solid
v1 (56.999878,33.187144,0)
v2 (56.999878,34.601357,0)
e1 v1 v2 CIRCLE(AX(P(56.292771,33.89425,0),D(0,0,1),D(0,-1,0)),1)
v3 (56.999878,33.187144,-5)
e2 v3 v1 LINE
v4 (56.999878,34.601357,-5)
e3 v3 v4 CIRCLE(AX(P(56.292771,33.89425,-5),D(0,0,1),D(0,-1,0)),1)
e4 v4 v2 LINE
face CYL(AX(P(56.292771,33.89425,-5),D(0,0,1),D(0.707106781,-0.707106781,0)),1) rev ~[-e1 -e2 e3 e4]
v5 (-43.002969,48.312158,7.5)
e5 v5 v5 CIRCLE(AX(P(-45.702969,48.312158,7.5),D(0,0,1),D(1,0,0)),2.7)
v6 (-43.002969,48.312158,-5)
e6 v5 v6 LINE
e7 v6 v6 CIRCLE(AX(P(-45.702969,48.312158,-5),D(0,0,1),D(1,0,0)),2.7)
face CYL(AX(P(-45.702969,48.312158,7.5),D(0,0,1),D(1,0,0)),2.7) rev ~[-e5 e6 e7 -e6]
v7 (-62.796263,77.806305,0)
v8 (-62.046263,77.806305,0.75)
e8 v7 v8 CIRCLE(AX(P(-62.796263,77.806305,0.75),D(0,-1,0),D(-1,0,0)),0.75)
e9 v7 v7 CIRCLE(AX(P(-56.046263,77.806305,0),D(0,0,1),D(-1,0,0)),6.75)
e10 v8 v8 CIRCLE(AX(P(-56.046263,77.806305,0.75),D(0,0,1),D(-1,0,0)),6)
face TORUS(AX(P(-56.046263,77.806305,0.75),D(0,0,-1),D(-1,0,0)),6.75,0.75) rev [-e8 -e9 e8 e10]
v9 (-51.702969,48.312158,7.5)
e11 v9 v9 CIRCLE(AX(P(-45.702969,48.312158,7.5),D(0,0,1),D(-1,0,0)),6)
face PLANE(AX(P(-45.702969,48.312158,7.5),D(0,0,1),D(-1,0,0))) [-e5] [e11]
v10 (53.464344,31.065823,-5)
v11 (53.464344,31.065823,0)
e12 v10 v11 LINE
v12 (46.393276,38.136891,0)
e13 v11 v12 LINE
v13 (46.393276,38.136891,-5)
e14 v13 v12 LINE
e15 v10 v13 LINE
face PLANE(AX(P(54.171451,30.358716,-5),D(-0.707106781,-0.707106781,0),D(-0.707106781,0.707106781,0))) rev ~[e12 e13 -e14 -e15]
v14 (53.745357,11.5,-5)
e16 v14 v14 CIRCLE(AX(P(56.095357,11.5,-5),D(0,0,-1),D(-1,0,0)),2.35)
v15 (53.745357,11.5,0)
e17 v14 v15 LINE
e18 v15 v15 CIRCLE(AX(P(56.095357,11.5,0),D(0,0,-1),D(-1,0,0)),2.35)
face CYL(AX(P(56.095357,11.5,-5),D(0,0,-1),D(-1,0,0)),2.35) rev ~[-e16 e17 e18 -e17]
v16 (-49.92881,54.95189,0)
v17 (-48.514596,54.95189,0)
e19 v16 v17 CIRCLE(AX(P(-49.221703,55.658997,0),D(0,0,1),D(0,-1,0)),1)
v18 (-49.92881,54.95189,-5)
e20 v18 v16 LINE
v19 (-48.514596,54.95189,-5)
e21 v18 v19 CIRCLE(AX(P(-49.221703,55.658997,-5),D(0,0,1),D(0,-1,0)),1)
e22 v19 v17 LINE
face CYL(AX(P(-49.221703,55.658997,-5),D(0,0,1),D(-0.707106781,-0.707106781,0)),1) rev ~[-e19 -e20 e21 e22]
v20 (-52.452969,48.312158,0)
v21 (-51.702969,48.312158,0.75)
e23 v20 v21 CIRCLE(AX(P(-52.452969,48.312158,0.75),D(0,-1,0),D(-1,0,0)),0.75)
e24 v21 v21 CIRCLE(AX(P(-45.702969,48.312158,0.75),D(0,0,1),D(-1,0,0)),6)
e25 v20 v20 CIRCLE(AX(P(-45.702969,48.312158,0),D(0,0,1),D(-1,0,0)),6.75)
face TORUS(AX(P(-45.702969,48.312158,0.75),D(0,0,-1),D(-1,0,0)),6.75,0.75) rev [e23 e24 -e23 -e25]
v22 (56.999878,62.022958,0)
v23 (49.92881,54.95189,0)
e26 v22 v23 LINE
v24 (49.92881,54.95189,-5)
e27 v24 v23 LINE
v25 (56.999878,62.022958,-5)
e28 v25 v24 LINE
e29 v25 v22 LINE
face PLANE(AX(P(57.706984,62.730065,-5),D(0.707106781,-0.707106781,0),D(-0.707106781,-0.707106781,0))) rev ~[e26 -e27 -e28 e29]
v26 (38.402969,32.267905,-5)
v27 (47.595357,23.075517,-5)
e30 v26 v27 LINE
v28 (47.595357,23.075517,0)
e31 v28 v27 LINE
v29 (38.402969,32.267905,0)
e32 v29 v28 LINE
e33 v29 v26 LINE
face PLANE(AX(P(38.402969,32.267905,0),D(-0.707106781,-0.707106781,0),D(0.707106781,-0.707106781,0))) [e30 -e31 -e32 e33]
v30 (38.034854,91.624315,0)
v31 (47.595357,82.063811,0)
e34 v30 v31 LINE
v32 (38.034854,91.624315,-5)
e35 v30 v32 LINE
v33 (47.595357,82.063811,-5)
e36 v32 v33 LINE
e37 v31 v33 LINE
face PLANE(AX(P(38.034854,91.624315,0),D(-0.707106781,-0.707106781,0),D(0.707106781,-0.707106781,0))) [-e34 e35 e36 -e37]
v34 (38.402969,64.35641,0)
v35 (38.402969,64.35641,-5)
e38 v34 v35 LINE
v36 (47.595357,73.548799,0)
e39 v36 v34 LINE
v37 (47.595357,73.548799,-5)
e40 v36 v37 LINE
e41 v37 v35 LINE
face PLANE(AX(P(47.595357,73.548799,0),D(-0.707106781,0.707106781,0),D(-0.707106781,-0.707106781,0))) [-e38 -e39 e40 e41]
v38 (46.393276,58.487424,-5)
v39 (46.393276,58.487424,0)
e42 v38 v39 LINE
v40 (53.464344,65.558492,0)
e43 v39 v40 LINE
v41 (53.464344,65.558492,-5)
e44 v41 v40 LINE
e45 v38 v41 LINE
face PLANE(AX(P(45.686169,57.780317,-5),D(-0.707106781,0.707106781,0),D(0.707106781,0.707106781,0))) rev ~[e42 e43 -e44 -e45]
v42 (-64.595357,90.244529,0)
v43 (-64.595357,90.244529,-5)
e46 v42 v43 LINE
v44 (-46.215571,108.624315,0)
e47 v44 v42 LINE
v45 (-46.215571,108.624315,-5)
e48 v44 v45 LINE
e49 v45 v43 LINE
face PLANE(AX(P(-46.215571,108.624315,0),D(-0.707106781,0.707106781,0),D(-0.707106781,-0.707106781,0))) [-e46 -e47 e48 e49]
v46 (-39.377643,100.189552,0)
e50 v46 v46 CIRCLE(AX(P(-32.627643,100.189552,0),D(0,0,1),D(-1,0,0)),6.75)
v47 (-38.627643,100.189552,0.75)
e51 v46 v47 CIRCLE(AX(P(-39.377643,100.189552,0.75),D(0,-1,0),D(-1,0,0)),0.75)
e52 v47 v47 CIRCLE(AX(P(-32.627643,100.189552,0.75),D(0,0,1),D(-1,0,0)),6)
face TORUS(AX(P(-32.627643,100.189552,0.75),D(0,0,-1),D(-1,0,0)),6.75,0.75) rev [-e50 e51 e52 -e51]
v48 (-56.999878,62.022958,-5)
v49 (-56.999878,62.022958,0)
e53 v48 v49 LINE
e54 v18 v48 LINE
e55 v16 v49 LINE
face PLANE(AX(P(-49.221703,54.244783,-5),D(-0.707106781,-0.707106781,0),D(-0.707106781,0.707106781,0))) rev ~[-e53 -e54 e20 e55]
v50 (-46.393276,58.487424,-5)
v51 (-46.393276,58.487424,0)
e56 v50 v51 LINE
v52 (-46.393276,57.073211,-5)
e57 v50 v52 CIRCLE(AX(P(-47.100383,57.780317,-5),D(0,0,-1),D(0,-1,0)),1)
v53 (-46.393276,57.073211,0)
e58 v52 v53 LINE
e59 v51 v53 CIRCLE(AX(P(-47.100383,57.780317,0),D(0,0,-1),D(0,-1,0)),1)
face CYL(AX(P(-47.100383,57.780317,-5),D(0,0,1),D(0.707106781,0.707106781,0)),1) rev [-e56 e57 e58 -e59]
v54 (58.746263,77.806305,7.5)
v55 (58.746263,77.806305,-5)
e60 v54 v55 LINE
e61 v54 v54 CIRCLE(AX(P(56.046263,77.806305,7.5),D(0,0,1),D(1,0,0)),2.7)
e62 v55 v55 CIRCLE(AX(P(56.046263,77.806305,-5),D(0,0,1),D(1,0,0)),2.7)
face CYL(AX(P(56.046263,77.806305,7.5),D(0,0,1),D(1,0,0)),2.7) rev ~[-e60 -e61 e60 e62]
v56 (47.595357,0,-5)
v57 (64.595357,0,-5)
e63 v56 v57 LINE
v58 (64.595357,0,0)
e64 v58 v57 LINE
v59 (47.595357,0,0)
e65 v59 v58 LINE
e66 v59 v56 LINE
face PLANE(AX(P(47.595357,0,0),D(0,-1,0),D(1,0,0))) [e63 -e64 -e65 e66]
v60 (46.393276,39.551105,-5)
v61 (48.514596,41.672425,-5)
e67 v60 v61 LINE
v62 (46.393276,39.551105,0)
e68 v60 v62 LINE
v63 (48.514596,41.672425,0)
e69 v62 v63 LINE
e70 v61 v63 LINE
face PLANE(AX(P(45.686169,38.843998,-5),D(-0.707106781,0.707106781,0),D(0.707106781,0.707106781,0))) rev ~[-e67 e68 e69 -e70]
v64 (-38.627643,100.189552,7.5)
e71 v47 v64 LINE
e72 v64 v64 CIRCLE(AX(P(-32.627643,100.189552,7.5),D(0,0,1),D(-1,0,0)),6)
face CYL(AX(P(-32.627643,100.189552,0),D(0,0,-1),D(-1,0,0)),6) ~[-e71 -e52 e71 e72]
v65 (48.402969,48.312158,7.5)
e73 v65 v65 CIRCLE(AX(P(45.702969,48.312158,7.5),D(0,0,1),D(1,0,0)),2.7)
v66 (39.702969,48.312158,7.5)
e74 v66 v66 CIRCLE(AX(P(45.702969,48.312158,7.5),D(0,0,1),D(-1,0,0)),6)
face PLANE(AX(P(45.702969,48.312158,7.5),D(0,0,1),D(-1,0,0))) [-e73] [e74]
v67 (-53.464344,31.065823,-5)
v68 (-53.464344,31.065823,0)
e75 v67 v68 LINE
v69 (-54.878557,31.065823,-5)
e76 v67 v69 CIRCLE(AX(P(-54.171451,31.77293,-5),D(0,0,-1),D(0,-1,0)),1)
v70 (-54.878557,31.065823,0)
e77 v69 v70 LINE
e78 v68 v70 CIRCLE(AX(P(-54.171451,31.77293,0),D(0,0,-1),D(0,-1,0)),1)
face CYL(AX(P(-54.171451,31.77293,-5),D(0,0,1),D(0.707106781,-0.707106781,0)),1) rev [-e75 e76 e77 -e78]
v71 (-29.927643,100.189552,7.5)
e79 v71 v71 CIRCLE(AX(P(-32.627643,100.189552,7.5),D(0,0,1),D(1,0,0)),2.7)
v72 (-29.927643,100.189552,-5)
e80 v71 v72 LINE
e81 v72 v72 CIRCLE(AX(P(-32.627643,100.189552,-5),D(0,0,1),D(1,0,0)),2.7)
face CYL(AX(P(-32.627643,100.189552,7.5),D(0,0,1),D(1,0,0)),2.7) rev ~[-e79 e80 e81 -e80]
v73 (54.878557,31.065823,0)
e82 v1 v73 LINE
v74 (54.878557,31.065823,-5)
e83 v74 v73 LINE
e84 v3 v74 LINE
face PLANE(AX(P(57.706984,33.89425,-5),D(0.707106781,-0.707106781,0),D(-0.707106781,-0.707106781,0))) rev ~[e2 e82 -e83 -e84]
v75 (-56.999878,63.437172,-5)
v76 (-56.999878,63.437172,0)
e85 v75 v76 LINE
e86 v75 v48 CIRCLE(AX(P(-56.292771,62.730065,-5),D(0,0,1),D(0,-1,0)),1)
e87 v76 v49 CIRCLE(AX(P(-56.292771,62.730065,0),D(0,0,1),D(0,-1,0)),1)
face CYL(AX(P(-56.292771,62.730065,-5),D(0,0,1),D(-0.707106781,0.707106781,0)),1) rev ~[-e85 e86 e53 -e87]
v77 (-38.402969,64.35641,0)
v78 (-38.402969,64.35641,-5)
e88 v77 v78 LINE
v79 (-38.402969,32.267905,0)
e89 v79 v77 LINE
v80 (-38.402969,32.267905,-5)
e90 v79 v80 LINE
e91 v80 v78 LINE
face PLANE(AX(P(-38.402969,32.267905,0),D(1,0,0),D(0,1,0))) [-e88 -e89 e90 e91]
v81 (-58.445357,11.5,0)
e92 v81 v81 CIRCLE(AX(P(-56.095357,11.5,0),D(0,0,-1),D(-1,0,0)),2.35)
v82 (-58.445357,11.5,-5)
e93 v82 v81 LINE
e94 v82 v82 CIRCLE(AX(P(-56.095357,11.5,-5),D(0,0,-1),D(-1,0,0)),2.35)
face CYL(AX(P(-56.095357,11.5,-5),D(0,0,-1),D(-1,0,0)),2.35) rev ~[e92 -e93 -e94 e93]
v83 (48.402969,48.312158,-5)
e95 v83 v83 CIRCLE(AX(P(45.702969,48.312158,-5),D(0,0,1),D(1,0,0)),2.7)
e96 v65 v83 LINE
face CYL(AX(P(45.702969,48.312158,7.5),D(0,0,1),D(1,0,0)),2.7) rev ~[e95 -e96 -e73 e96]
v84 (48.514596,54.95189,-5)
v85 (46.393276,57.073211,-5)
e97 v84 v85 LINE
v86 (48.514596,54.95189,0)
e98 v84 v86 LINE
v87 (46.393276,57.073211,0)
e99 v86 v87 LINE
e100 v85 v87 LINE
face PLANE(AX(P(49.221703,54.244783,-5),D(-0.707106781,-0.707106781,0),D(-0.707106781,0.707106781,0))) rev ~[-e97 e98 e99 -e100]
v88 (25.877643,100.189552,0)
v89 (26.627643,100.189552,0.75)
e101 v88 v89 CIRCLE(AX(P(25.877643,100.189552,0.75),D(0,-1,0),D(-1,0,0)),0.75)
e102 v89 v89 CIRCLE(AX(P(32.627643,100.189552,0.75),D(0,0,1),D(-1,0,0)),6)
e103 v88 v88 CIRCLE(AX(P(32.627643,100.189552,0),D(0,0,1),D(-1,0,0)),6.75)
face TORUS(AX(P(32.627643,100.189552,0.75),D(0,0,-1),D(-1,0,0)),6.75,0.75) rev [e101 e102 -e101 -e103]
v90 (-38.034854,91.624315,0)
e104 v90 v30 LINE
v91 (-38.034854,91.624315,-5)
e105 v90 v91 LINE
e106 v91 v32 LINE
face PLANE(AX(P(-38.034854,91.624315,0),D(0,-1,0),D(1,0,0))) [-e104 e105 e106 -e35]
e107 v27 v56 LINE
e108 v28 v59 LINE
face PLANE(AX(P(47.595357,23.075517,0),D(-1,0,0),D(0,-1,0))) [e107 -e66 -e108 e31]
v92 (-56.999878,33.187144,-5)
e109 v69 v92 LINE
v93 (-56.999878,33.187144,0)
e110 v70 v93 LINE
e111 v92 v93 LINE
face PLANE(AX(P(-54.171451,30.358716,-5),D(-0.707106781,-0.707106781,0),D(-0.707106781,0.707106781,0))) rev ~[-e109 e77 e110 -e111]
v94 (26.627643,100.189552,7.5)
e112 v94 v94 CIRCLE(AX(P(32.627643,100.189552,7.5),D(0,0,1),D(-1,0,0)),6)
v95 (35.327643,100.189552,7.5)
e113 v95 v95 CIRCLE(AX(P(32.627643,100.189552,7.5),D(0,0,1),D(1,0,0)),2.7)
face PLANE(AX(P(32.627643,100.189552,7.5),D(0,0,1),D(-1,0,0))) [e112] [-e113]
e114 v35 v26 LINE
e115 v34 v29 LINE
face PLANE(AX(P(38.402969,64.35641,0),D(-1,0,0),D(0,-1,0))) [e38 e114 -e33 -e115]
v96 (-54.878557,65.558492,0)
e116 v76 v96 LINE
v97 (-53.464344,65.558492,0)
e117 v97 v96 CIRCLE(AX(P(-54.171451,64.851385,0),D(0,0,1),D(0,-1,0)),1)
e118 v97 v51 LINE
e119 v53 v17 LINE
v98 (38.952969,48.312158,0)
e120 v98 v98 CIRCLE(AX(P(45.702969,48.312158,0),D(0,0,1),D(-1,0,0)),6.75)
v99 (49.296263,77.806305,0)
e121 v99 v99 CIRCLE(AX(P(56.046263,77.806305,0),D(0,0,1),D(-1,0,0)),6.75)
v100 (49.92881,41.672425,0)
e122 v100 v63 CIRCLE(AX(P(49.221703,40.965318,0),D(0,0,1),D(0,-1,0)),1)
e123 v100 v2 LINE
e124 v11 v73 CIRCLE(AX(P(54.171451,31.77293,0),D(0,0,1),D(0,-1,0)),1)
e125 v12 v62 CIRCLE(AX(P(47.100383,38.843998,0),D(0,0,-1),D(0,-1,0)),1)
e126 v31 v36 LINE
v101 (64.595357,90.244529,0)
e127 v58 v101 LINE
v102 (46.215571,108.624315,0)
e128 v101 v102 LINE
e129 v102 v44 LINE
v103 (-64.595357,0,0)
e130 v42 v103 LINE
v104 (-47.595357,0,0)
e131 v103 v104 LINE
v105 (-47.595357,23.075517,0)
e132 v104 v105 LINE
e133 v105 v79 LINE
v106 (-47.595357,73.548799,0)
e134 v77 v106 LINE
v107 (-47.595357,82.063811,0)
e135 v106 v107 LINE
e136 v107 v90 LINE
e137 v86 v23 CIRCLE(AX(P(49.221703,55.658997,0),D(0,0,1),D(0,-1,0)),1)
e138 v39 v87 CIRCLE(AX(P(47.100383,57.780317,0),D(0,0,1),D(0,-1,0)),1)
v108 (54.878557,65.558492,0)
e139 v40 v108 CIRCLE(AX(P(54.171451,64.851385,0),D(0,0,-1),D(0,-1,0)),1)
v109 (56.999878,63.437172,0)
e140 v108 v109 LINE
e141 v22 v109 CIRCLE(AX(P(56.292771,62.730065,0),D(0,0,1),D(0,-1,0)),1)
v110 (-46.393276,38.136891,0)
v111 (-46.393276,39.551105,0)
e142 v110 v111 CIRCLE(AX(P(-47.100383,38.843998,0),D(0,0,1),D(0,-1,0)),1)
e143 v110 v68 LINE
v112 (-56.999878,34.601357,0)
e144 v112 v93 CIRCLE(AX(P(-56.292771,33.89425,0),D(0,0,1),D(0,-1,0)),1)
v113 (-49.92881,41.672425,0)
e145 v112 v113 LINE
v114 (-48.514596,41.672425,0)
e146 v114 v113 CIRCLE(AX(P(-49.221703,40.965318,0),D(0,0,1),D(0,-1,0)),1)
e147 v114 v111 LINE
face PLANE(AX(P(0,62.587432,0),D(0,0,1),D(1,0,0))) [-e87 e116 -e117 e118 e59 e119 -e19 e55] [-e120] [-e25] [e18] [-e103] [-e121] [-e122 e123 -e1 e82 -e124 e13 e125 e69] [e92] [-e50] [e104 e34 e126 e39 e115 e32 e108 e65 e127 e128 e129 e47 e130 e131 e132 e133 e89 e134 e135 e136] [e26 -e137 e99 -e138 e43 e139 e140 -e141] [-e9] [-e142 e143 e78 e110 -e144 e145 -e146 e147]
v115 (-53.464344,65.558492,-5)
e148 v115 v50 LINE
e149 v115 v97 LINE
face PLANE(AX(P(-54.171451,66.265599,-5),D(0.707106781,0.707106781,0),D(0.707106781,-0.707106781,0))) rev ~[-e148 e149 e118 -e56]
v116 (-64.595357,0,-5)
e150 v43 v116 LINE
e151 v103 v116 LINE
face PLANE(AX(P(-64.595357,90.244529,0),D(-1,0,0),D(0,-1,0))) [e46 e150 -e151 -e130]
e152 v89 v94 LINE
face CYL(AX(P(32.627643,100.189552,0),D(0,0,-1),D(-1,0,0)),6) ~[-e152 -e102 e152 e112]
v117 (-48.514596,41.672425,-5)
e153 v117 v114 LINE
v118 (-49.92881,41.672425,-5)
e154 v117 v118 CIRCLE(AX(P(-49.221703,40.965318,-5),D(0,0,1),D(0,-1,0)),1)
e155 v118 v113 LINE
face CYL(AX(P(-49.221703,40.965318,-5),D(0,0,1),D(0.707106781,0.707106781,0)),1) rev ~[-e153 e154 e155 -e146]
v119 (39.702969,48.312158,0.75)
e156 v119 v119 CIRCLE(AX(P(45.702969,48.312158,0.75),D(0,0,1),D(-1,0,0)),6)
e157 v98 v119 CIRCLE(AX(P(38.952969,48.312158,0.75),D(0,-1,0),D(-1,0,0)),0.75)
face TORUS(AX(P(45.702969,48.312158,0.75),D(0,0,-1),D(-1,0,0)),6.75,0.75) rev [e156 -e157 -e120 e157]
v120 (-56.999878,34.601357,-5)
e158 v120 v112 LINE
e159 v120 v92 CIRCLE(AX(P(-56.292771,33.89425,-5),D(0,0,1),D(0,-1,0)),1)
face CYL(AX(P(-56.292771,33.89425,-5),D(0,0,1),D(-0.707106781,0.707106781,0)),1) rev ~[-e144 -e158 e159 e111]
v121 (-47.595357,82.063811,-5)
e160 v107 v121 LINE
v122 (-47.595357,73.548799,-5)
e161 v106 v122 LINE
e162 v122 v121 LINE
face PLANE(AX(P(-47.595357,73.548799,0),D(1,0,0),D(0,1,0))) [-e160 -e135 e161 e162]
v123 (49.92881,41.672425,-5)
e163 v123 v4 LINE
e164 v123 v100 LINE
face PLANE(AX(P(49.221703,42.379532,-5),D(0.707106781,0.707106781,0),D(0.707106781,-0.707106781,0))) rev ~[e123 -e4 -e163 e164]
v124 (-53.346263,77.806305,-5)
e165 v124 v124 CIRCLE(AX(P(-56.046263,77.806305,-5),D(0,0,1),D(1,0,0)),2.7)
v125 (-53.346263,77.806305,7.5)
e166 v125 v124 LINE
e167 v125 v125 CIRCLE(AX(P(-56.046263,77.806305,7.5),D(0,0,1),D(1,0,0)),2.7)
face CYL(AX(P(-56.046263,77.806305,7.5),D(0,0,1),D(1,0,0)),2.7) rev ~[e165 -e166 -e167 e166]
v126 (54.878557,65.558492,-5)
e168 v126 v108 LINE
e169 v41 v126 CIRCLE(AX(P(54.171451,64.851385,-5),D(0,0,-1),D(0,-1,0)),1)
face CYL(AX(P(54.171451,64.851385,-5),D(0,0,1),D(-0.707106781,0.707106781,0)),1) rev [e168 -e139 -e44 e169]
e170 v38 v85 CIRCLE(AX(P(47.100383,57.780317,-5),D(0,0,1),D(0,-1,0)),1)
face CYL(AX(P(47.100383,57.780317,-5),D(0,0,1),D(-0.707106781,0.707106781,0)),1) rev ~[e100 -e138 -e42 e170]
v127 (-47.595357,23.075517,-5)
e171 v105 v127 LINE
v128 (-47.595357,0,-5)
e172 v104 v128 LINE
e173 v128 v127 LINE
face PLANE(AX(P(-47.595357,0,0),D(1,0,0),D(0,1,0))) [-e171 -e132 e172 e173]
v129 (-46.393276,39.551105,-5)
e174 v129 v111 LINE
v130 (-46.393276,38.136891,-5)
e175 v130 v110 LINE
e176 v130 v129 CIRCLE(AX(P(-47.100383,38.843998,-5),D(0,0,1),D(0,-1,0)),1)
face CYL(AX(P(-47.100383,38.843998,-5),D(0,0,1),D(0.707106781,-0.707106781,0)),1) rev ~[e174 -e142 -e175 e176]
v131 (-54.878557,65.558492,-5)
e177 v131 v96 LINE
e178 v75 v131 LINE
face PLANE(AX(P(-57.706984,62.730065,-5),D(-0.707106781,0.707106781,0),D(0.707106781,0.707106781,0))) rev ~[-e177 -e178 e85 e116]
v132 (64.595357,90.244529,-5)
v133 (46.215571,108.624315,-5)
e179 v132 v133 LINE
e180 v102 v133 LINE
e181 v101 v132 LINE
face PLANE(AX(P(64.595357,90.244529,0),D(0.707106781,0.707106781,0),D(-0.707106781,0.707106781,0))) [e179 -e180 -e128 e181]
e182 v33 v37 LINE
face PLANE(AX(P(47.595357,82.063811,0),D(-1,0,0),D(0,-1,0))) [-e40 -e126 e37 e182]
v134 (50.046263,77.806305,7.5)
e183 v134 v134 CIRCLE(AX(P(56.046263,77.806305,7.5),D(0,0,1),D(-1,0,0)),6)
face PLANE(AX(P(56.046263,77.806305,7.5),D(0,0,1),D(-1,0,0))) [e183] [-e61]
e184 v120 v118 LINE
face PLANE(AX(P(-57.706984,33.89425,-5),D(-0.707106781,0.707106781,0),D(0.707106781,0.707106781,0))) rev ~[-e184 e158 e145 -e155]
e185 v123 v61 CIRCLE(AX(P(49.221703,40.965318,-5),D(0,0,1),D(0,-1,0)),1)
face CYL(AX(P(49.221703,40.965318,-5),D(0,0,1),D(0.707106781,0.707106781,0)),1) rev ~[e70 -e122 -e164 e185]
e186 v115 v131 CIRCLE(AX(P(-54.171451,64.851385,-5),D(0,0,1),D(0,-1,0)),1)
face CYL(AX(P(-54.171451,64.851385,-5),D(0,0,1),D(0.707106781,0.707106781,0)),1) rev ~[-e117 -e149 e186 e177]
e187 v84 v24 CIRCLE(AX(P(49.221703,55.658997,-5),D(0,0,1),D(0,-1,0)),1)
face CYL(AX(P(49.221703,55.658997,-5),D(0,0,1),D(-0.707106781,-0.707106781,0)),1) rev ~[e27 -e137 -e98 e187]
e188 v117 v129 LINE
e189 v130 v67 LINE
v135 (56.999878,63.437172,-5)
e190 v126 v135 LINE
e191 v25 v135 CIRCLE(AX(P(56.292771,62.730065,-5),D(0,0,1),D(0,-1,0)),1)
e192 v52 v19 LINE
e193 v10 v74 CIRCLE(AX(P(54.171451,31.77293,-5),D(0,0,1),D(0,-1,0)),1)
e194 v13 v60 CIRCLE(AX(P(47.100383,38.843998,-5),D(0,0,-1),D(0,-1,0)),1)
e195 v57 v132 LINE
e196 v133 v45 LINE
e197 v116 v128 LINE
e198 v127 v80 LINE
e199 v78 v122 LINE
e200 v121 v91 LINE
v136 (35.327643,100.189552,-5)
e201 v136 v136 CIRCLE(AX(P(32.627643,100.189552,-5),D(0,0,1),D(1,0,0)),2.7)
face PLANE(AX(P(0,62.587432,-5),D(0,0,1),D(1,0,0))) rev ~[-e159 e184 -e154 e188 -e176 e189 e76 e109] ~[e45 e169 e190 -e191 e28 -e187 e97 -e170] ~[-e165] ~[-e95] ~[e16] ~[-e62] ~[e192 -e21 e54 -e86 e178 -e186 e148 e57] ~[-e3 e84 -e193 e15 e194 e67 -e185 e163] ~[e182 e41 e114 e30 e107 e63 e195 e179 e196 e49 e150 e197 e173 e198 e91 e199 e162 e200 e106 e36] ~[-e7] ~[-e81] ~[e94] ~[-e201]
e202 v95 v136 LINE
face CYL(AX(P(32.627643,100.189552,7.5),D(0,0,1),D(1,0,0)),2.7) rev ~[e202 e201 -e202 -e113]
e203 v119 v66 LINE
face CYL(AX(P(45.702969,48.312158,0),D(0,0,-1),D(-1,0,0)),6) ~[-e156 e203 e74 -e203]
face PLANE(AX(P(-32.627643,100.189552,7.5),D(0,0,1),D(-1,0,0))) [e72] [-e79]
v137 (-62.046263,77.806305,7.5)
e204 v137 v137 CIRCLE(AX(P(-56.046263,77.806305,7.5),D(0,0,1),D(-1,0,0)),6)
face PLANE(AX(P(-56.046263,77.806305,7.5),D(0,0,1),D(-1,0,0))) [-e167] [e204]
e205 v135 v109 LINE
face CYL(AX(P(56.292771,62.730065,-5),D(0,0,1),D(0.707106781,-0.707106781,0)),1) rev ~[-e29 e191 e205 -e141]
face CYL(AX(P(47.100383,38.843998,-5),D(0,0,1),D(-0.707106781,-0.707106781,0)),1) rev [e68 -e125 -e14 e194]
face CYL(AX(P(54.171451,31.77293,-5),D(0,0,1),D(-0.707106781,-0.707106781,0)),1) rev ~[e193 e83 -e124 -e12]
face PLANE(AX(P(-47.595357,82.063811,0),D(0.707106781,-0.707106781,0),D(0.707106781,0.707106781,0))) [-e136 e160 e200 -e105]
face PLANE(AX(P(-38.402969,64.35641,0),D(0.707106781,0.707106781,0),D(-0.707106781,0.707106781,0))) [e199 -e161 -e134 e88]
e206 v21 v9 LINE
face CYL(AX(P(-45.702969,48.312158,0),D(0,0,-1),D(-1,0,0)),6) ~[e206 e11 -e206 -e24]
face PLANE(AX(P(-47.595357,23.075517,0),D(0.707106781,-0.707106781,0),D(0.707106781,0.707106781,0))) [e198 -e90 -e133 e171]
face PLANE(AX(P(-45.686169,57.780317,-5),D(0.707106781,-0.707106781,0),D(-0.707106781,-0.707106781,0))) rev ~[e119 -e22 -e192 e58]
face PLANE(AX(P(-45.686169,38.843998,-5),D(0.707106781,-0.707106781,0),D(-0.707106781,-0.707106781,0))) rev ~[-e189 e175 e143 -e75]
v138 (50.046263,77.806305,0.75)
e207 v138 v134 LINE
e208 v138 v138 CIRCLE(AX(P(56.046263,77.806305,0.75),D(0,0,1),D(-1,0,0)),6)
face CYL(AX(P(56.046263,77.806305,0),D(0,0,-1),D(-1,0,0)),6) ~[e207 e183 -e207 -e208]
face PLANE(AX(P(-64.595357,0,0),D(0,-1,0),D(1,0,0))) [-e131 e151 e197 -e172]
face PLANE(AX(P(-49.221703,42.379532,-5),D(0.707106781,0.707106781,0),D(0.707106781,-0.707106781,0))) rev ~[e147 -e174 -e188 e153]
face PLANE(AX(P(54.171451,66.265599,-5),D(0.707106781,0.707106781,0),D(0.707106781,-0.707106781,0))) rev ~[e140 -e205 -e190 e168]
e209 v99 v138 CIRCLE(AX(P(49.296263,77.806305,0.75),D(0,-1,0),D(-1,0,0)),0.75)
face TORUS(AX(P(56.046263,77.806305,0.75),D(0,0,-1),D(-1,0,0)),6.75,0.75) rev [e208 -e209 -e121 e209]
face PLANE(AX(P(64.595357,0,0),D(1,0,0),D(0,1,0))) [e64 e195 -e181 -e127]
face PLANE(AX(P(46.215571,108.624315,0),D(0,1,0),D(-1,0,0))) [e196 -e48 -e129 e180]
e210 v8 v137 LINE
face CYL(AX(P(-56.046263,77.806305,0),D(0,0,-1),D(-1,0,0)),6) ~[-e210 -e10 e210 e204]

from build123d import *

# Parameters (mm, degrees)
BOSS_EXTRUDE2_DEPTH = 5
SKETCH4_R           = 6
BOSS_EXTRUDE3_DEPTH = 7.5
FILLET1_R           = 0.75
SKETCH5_R           = 2.35
CUT_EXTRUDE1_DEPTH  = 5
SKETCH6_R           = 2.7
CUT_EXTRUDE2_DEPTH  = 12.5
CUT_EXTRUDE3_DEPTH  = 5
FILLET2_R           = 1


with BuildPart() as part:
    # Sketch2 → Boss-Extrude2 (new body)
    with BuildSketch(Plane.XY):
        Polygon((-38.034853609, 91.624315191), (0, 91.624315191), (38.034853609, 91.624315191), (47.595357442, 82.063811359), (47.595357442, 73.548798616), (38.402969286, 64.356410461), (38.402969286, 32.26790473), (47.595357442, 23.075516575), (47.595357442, 0), (64.595357442, 0), (64.595357442, 90.244528717), (46.215570967, 108.624315191), (0, 108.624315191), (-46.215570967, 108.624315191), (-64.595357442, 90.244528717), (-64.595357442, 0), (-47.595357442, 0), (-47.595357442, 23.075516575), (-38.402969286, 32.26790473), (-38.402969286, 64.356410461), (-47.595357442, 73.548798616), (-47.595357442, 82.063811359), align=None)
    extrude(amount=-BOSS_EXTRUDE2_DEPTH)

    # Sketch4 → Boss-Extrude3 (add)
    with BuildSketch(Plane.XY):
        with Locations(Location((45.702969286, 48.312157595, 0), (0, 0, 180))):
            Circle(SKETCH4_R)
        with Locations(Location((56.046263063, 77.806304987, 0), (0, 0, 180))):
            Circle(SKETCH4_R)
        with Locations(Location((32.627642792, 100.189552245, 0), (0, 0, 180))):
            Circle(SKETCH4_R)
        with Locations(Location((-32.627642792, 100.189552245, 0), (0, 0, 180))):
            Circle(SKETCH4_R)
        with Locations(Location((-45.702969286, 48.312157595, 0), (0, 0, 180))):
            Circle(SKETCH4_R)
        with Locations(Location((-56.046263063, 77.806304987, 0), (0, 0, 180))):
            Circle(SKETCH4_R)
    extrude(amount=BOSS_EXTRUDE3_DEPTH)

    # Fillet1
    fillet1_edges = [part.edges().sort_by_distance(p)[0] for p in [
        (51.702969286, 48.312157595, 0),
        (-50.046263063, 77.806304987, 0),
        (-39.702969286, 48.312157595, 0),
        (-26.627642792, 100.189552245, 0),
        (38.627642792, 100.189552245, 0),
        (62.046263063, 77.806304987, 0),
    ]]
    fillet(fillet1_edges, radius=FILLET1_R)

    # Sketch5 → Cut-Extrude1 (cut)
    with BuildSketch(Plane(origin=(0, 0, -5), x_dir=(-1, 0, 0), z_dir=(0, 0, -1))):
        with Locations((56.095357442, 11.5)):
            Circle(SKETCH5_R)
        with Locations((-56.095357442, 11.5)):
            Circle(SKETCH5_R)
    extrude(amount=-CUT_EXTRUDE1_DEPTH, mode=Mode.SUBTRACT)

    # Sketch6 → Cut-Extrude2 (cut)
    with BuildSketch(Plane.XY.offset(7.5)):
        with Locations((-45.702969286, 48.312157595)):
            Circle(SKETCH6_R)
        with Locations((-32.627642792, 100.189552245)):
            Circle(SKETCH6_R)
        with Locations((32.627642792, 100.189552245)):
            Circle(SKETCH6_R)
        with Locations((56.046263063, 77.806304987)):
            Circle(SKETCH6_R)
        with Locations((45.702969286, 48.312157595)):
            Circle(SKETCH6_R)
        with Locations((-56.046263063, 77.806304987)):
            Circle(SKETCH6_R)
    extrude(amount=-CUT_EXTRUDE2_DEPTH, mode=Mode.SUBTRACT)

    # Sketch7 → Cut-Extrude3 (cut)
    with BuildSketch(Plane(origin=(0, 0, -5), x_dir=(-1, 0, 0), z_dir=(0, 0, -1))):
        Polygon((45.686169132, 57.780317396), (49.221703038, 54.24478349), (57.706984413, 62.730064864), (54.171450507, 66.26559877), align=None)
        Polygon((54.171450507, 30.358716421), (57.706984413, 33.894250327), (49.221703038, 42.379531701), (45.686169132, 38.843997795), align=None)
        Polygon((-54.171450507, 66.26559877), (-57.706984413, 62.730064864), (-49.221703038, 54.24478349), (-45.686169132, 57.780317396), align=None)
        Polygon((-45.686169132, 38.843997795), (-49.221703038, 42.379531701), (-57.706984413, 33.894250327), (-54.171450507, 30.358716421), align=None)
    extrude(amount=-CUT_EXTRUDE3_DEPTH, mode=Mode.SUBTRACT)

    # Fillet2
    fillet2_edges = [part.edges().sort_by_distance(p)[0] for p in [
        (-54.171450507, 30.358716421, -2.5),
        (-45.686169132, 38.843997795, -2.5),
        (-49.221703038, 42.379531701, -2.5),
        (-57.706984413, 33.894250327, -2.5),
        (54.171450507, 66.26559877, -2.5),
        (45.686169132, 57.780317396, -2.5),
        (49.221703038, 54.24478349, -2.5),
        (57.706984413, 62.730064864, -2.5),
        (45.686169132, 38.843997795, -2.5),
        (54.171450507, 30.358716421, -2.5),
        (57.706984413, 33.894250327, -2.5),
        (49.221703038, 42.379531701, -2.5),
        (-45.686169132, 57.780317396, -2.5),
        (-54.171450507, 66.26559877, -2.5),
        (-57.706984413, 62.730064864, -2.5),
        (-49.221703038, 54.24478349, -2.5),
    ]]
    fillet(fillet2_edges, radius=FILLET2_R)


solid = part.part
